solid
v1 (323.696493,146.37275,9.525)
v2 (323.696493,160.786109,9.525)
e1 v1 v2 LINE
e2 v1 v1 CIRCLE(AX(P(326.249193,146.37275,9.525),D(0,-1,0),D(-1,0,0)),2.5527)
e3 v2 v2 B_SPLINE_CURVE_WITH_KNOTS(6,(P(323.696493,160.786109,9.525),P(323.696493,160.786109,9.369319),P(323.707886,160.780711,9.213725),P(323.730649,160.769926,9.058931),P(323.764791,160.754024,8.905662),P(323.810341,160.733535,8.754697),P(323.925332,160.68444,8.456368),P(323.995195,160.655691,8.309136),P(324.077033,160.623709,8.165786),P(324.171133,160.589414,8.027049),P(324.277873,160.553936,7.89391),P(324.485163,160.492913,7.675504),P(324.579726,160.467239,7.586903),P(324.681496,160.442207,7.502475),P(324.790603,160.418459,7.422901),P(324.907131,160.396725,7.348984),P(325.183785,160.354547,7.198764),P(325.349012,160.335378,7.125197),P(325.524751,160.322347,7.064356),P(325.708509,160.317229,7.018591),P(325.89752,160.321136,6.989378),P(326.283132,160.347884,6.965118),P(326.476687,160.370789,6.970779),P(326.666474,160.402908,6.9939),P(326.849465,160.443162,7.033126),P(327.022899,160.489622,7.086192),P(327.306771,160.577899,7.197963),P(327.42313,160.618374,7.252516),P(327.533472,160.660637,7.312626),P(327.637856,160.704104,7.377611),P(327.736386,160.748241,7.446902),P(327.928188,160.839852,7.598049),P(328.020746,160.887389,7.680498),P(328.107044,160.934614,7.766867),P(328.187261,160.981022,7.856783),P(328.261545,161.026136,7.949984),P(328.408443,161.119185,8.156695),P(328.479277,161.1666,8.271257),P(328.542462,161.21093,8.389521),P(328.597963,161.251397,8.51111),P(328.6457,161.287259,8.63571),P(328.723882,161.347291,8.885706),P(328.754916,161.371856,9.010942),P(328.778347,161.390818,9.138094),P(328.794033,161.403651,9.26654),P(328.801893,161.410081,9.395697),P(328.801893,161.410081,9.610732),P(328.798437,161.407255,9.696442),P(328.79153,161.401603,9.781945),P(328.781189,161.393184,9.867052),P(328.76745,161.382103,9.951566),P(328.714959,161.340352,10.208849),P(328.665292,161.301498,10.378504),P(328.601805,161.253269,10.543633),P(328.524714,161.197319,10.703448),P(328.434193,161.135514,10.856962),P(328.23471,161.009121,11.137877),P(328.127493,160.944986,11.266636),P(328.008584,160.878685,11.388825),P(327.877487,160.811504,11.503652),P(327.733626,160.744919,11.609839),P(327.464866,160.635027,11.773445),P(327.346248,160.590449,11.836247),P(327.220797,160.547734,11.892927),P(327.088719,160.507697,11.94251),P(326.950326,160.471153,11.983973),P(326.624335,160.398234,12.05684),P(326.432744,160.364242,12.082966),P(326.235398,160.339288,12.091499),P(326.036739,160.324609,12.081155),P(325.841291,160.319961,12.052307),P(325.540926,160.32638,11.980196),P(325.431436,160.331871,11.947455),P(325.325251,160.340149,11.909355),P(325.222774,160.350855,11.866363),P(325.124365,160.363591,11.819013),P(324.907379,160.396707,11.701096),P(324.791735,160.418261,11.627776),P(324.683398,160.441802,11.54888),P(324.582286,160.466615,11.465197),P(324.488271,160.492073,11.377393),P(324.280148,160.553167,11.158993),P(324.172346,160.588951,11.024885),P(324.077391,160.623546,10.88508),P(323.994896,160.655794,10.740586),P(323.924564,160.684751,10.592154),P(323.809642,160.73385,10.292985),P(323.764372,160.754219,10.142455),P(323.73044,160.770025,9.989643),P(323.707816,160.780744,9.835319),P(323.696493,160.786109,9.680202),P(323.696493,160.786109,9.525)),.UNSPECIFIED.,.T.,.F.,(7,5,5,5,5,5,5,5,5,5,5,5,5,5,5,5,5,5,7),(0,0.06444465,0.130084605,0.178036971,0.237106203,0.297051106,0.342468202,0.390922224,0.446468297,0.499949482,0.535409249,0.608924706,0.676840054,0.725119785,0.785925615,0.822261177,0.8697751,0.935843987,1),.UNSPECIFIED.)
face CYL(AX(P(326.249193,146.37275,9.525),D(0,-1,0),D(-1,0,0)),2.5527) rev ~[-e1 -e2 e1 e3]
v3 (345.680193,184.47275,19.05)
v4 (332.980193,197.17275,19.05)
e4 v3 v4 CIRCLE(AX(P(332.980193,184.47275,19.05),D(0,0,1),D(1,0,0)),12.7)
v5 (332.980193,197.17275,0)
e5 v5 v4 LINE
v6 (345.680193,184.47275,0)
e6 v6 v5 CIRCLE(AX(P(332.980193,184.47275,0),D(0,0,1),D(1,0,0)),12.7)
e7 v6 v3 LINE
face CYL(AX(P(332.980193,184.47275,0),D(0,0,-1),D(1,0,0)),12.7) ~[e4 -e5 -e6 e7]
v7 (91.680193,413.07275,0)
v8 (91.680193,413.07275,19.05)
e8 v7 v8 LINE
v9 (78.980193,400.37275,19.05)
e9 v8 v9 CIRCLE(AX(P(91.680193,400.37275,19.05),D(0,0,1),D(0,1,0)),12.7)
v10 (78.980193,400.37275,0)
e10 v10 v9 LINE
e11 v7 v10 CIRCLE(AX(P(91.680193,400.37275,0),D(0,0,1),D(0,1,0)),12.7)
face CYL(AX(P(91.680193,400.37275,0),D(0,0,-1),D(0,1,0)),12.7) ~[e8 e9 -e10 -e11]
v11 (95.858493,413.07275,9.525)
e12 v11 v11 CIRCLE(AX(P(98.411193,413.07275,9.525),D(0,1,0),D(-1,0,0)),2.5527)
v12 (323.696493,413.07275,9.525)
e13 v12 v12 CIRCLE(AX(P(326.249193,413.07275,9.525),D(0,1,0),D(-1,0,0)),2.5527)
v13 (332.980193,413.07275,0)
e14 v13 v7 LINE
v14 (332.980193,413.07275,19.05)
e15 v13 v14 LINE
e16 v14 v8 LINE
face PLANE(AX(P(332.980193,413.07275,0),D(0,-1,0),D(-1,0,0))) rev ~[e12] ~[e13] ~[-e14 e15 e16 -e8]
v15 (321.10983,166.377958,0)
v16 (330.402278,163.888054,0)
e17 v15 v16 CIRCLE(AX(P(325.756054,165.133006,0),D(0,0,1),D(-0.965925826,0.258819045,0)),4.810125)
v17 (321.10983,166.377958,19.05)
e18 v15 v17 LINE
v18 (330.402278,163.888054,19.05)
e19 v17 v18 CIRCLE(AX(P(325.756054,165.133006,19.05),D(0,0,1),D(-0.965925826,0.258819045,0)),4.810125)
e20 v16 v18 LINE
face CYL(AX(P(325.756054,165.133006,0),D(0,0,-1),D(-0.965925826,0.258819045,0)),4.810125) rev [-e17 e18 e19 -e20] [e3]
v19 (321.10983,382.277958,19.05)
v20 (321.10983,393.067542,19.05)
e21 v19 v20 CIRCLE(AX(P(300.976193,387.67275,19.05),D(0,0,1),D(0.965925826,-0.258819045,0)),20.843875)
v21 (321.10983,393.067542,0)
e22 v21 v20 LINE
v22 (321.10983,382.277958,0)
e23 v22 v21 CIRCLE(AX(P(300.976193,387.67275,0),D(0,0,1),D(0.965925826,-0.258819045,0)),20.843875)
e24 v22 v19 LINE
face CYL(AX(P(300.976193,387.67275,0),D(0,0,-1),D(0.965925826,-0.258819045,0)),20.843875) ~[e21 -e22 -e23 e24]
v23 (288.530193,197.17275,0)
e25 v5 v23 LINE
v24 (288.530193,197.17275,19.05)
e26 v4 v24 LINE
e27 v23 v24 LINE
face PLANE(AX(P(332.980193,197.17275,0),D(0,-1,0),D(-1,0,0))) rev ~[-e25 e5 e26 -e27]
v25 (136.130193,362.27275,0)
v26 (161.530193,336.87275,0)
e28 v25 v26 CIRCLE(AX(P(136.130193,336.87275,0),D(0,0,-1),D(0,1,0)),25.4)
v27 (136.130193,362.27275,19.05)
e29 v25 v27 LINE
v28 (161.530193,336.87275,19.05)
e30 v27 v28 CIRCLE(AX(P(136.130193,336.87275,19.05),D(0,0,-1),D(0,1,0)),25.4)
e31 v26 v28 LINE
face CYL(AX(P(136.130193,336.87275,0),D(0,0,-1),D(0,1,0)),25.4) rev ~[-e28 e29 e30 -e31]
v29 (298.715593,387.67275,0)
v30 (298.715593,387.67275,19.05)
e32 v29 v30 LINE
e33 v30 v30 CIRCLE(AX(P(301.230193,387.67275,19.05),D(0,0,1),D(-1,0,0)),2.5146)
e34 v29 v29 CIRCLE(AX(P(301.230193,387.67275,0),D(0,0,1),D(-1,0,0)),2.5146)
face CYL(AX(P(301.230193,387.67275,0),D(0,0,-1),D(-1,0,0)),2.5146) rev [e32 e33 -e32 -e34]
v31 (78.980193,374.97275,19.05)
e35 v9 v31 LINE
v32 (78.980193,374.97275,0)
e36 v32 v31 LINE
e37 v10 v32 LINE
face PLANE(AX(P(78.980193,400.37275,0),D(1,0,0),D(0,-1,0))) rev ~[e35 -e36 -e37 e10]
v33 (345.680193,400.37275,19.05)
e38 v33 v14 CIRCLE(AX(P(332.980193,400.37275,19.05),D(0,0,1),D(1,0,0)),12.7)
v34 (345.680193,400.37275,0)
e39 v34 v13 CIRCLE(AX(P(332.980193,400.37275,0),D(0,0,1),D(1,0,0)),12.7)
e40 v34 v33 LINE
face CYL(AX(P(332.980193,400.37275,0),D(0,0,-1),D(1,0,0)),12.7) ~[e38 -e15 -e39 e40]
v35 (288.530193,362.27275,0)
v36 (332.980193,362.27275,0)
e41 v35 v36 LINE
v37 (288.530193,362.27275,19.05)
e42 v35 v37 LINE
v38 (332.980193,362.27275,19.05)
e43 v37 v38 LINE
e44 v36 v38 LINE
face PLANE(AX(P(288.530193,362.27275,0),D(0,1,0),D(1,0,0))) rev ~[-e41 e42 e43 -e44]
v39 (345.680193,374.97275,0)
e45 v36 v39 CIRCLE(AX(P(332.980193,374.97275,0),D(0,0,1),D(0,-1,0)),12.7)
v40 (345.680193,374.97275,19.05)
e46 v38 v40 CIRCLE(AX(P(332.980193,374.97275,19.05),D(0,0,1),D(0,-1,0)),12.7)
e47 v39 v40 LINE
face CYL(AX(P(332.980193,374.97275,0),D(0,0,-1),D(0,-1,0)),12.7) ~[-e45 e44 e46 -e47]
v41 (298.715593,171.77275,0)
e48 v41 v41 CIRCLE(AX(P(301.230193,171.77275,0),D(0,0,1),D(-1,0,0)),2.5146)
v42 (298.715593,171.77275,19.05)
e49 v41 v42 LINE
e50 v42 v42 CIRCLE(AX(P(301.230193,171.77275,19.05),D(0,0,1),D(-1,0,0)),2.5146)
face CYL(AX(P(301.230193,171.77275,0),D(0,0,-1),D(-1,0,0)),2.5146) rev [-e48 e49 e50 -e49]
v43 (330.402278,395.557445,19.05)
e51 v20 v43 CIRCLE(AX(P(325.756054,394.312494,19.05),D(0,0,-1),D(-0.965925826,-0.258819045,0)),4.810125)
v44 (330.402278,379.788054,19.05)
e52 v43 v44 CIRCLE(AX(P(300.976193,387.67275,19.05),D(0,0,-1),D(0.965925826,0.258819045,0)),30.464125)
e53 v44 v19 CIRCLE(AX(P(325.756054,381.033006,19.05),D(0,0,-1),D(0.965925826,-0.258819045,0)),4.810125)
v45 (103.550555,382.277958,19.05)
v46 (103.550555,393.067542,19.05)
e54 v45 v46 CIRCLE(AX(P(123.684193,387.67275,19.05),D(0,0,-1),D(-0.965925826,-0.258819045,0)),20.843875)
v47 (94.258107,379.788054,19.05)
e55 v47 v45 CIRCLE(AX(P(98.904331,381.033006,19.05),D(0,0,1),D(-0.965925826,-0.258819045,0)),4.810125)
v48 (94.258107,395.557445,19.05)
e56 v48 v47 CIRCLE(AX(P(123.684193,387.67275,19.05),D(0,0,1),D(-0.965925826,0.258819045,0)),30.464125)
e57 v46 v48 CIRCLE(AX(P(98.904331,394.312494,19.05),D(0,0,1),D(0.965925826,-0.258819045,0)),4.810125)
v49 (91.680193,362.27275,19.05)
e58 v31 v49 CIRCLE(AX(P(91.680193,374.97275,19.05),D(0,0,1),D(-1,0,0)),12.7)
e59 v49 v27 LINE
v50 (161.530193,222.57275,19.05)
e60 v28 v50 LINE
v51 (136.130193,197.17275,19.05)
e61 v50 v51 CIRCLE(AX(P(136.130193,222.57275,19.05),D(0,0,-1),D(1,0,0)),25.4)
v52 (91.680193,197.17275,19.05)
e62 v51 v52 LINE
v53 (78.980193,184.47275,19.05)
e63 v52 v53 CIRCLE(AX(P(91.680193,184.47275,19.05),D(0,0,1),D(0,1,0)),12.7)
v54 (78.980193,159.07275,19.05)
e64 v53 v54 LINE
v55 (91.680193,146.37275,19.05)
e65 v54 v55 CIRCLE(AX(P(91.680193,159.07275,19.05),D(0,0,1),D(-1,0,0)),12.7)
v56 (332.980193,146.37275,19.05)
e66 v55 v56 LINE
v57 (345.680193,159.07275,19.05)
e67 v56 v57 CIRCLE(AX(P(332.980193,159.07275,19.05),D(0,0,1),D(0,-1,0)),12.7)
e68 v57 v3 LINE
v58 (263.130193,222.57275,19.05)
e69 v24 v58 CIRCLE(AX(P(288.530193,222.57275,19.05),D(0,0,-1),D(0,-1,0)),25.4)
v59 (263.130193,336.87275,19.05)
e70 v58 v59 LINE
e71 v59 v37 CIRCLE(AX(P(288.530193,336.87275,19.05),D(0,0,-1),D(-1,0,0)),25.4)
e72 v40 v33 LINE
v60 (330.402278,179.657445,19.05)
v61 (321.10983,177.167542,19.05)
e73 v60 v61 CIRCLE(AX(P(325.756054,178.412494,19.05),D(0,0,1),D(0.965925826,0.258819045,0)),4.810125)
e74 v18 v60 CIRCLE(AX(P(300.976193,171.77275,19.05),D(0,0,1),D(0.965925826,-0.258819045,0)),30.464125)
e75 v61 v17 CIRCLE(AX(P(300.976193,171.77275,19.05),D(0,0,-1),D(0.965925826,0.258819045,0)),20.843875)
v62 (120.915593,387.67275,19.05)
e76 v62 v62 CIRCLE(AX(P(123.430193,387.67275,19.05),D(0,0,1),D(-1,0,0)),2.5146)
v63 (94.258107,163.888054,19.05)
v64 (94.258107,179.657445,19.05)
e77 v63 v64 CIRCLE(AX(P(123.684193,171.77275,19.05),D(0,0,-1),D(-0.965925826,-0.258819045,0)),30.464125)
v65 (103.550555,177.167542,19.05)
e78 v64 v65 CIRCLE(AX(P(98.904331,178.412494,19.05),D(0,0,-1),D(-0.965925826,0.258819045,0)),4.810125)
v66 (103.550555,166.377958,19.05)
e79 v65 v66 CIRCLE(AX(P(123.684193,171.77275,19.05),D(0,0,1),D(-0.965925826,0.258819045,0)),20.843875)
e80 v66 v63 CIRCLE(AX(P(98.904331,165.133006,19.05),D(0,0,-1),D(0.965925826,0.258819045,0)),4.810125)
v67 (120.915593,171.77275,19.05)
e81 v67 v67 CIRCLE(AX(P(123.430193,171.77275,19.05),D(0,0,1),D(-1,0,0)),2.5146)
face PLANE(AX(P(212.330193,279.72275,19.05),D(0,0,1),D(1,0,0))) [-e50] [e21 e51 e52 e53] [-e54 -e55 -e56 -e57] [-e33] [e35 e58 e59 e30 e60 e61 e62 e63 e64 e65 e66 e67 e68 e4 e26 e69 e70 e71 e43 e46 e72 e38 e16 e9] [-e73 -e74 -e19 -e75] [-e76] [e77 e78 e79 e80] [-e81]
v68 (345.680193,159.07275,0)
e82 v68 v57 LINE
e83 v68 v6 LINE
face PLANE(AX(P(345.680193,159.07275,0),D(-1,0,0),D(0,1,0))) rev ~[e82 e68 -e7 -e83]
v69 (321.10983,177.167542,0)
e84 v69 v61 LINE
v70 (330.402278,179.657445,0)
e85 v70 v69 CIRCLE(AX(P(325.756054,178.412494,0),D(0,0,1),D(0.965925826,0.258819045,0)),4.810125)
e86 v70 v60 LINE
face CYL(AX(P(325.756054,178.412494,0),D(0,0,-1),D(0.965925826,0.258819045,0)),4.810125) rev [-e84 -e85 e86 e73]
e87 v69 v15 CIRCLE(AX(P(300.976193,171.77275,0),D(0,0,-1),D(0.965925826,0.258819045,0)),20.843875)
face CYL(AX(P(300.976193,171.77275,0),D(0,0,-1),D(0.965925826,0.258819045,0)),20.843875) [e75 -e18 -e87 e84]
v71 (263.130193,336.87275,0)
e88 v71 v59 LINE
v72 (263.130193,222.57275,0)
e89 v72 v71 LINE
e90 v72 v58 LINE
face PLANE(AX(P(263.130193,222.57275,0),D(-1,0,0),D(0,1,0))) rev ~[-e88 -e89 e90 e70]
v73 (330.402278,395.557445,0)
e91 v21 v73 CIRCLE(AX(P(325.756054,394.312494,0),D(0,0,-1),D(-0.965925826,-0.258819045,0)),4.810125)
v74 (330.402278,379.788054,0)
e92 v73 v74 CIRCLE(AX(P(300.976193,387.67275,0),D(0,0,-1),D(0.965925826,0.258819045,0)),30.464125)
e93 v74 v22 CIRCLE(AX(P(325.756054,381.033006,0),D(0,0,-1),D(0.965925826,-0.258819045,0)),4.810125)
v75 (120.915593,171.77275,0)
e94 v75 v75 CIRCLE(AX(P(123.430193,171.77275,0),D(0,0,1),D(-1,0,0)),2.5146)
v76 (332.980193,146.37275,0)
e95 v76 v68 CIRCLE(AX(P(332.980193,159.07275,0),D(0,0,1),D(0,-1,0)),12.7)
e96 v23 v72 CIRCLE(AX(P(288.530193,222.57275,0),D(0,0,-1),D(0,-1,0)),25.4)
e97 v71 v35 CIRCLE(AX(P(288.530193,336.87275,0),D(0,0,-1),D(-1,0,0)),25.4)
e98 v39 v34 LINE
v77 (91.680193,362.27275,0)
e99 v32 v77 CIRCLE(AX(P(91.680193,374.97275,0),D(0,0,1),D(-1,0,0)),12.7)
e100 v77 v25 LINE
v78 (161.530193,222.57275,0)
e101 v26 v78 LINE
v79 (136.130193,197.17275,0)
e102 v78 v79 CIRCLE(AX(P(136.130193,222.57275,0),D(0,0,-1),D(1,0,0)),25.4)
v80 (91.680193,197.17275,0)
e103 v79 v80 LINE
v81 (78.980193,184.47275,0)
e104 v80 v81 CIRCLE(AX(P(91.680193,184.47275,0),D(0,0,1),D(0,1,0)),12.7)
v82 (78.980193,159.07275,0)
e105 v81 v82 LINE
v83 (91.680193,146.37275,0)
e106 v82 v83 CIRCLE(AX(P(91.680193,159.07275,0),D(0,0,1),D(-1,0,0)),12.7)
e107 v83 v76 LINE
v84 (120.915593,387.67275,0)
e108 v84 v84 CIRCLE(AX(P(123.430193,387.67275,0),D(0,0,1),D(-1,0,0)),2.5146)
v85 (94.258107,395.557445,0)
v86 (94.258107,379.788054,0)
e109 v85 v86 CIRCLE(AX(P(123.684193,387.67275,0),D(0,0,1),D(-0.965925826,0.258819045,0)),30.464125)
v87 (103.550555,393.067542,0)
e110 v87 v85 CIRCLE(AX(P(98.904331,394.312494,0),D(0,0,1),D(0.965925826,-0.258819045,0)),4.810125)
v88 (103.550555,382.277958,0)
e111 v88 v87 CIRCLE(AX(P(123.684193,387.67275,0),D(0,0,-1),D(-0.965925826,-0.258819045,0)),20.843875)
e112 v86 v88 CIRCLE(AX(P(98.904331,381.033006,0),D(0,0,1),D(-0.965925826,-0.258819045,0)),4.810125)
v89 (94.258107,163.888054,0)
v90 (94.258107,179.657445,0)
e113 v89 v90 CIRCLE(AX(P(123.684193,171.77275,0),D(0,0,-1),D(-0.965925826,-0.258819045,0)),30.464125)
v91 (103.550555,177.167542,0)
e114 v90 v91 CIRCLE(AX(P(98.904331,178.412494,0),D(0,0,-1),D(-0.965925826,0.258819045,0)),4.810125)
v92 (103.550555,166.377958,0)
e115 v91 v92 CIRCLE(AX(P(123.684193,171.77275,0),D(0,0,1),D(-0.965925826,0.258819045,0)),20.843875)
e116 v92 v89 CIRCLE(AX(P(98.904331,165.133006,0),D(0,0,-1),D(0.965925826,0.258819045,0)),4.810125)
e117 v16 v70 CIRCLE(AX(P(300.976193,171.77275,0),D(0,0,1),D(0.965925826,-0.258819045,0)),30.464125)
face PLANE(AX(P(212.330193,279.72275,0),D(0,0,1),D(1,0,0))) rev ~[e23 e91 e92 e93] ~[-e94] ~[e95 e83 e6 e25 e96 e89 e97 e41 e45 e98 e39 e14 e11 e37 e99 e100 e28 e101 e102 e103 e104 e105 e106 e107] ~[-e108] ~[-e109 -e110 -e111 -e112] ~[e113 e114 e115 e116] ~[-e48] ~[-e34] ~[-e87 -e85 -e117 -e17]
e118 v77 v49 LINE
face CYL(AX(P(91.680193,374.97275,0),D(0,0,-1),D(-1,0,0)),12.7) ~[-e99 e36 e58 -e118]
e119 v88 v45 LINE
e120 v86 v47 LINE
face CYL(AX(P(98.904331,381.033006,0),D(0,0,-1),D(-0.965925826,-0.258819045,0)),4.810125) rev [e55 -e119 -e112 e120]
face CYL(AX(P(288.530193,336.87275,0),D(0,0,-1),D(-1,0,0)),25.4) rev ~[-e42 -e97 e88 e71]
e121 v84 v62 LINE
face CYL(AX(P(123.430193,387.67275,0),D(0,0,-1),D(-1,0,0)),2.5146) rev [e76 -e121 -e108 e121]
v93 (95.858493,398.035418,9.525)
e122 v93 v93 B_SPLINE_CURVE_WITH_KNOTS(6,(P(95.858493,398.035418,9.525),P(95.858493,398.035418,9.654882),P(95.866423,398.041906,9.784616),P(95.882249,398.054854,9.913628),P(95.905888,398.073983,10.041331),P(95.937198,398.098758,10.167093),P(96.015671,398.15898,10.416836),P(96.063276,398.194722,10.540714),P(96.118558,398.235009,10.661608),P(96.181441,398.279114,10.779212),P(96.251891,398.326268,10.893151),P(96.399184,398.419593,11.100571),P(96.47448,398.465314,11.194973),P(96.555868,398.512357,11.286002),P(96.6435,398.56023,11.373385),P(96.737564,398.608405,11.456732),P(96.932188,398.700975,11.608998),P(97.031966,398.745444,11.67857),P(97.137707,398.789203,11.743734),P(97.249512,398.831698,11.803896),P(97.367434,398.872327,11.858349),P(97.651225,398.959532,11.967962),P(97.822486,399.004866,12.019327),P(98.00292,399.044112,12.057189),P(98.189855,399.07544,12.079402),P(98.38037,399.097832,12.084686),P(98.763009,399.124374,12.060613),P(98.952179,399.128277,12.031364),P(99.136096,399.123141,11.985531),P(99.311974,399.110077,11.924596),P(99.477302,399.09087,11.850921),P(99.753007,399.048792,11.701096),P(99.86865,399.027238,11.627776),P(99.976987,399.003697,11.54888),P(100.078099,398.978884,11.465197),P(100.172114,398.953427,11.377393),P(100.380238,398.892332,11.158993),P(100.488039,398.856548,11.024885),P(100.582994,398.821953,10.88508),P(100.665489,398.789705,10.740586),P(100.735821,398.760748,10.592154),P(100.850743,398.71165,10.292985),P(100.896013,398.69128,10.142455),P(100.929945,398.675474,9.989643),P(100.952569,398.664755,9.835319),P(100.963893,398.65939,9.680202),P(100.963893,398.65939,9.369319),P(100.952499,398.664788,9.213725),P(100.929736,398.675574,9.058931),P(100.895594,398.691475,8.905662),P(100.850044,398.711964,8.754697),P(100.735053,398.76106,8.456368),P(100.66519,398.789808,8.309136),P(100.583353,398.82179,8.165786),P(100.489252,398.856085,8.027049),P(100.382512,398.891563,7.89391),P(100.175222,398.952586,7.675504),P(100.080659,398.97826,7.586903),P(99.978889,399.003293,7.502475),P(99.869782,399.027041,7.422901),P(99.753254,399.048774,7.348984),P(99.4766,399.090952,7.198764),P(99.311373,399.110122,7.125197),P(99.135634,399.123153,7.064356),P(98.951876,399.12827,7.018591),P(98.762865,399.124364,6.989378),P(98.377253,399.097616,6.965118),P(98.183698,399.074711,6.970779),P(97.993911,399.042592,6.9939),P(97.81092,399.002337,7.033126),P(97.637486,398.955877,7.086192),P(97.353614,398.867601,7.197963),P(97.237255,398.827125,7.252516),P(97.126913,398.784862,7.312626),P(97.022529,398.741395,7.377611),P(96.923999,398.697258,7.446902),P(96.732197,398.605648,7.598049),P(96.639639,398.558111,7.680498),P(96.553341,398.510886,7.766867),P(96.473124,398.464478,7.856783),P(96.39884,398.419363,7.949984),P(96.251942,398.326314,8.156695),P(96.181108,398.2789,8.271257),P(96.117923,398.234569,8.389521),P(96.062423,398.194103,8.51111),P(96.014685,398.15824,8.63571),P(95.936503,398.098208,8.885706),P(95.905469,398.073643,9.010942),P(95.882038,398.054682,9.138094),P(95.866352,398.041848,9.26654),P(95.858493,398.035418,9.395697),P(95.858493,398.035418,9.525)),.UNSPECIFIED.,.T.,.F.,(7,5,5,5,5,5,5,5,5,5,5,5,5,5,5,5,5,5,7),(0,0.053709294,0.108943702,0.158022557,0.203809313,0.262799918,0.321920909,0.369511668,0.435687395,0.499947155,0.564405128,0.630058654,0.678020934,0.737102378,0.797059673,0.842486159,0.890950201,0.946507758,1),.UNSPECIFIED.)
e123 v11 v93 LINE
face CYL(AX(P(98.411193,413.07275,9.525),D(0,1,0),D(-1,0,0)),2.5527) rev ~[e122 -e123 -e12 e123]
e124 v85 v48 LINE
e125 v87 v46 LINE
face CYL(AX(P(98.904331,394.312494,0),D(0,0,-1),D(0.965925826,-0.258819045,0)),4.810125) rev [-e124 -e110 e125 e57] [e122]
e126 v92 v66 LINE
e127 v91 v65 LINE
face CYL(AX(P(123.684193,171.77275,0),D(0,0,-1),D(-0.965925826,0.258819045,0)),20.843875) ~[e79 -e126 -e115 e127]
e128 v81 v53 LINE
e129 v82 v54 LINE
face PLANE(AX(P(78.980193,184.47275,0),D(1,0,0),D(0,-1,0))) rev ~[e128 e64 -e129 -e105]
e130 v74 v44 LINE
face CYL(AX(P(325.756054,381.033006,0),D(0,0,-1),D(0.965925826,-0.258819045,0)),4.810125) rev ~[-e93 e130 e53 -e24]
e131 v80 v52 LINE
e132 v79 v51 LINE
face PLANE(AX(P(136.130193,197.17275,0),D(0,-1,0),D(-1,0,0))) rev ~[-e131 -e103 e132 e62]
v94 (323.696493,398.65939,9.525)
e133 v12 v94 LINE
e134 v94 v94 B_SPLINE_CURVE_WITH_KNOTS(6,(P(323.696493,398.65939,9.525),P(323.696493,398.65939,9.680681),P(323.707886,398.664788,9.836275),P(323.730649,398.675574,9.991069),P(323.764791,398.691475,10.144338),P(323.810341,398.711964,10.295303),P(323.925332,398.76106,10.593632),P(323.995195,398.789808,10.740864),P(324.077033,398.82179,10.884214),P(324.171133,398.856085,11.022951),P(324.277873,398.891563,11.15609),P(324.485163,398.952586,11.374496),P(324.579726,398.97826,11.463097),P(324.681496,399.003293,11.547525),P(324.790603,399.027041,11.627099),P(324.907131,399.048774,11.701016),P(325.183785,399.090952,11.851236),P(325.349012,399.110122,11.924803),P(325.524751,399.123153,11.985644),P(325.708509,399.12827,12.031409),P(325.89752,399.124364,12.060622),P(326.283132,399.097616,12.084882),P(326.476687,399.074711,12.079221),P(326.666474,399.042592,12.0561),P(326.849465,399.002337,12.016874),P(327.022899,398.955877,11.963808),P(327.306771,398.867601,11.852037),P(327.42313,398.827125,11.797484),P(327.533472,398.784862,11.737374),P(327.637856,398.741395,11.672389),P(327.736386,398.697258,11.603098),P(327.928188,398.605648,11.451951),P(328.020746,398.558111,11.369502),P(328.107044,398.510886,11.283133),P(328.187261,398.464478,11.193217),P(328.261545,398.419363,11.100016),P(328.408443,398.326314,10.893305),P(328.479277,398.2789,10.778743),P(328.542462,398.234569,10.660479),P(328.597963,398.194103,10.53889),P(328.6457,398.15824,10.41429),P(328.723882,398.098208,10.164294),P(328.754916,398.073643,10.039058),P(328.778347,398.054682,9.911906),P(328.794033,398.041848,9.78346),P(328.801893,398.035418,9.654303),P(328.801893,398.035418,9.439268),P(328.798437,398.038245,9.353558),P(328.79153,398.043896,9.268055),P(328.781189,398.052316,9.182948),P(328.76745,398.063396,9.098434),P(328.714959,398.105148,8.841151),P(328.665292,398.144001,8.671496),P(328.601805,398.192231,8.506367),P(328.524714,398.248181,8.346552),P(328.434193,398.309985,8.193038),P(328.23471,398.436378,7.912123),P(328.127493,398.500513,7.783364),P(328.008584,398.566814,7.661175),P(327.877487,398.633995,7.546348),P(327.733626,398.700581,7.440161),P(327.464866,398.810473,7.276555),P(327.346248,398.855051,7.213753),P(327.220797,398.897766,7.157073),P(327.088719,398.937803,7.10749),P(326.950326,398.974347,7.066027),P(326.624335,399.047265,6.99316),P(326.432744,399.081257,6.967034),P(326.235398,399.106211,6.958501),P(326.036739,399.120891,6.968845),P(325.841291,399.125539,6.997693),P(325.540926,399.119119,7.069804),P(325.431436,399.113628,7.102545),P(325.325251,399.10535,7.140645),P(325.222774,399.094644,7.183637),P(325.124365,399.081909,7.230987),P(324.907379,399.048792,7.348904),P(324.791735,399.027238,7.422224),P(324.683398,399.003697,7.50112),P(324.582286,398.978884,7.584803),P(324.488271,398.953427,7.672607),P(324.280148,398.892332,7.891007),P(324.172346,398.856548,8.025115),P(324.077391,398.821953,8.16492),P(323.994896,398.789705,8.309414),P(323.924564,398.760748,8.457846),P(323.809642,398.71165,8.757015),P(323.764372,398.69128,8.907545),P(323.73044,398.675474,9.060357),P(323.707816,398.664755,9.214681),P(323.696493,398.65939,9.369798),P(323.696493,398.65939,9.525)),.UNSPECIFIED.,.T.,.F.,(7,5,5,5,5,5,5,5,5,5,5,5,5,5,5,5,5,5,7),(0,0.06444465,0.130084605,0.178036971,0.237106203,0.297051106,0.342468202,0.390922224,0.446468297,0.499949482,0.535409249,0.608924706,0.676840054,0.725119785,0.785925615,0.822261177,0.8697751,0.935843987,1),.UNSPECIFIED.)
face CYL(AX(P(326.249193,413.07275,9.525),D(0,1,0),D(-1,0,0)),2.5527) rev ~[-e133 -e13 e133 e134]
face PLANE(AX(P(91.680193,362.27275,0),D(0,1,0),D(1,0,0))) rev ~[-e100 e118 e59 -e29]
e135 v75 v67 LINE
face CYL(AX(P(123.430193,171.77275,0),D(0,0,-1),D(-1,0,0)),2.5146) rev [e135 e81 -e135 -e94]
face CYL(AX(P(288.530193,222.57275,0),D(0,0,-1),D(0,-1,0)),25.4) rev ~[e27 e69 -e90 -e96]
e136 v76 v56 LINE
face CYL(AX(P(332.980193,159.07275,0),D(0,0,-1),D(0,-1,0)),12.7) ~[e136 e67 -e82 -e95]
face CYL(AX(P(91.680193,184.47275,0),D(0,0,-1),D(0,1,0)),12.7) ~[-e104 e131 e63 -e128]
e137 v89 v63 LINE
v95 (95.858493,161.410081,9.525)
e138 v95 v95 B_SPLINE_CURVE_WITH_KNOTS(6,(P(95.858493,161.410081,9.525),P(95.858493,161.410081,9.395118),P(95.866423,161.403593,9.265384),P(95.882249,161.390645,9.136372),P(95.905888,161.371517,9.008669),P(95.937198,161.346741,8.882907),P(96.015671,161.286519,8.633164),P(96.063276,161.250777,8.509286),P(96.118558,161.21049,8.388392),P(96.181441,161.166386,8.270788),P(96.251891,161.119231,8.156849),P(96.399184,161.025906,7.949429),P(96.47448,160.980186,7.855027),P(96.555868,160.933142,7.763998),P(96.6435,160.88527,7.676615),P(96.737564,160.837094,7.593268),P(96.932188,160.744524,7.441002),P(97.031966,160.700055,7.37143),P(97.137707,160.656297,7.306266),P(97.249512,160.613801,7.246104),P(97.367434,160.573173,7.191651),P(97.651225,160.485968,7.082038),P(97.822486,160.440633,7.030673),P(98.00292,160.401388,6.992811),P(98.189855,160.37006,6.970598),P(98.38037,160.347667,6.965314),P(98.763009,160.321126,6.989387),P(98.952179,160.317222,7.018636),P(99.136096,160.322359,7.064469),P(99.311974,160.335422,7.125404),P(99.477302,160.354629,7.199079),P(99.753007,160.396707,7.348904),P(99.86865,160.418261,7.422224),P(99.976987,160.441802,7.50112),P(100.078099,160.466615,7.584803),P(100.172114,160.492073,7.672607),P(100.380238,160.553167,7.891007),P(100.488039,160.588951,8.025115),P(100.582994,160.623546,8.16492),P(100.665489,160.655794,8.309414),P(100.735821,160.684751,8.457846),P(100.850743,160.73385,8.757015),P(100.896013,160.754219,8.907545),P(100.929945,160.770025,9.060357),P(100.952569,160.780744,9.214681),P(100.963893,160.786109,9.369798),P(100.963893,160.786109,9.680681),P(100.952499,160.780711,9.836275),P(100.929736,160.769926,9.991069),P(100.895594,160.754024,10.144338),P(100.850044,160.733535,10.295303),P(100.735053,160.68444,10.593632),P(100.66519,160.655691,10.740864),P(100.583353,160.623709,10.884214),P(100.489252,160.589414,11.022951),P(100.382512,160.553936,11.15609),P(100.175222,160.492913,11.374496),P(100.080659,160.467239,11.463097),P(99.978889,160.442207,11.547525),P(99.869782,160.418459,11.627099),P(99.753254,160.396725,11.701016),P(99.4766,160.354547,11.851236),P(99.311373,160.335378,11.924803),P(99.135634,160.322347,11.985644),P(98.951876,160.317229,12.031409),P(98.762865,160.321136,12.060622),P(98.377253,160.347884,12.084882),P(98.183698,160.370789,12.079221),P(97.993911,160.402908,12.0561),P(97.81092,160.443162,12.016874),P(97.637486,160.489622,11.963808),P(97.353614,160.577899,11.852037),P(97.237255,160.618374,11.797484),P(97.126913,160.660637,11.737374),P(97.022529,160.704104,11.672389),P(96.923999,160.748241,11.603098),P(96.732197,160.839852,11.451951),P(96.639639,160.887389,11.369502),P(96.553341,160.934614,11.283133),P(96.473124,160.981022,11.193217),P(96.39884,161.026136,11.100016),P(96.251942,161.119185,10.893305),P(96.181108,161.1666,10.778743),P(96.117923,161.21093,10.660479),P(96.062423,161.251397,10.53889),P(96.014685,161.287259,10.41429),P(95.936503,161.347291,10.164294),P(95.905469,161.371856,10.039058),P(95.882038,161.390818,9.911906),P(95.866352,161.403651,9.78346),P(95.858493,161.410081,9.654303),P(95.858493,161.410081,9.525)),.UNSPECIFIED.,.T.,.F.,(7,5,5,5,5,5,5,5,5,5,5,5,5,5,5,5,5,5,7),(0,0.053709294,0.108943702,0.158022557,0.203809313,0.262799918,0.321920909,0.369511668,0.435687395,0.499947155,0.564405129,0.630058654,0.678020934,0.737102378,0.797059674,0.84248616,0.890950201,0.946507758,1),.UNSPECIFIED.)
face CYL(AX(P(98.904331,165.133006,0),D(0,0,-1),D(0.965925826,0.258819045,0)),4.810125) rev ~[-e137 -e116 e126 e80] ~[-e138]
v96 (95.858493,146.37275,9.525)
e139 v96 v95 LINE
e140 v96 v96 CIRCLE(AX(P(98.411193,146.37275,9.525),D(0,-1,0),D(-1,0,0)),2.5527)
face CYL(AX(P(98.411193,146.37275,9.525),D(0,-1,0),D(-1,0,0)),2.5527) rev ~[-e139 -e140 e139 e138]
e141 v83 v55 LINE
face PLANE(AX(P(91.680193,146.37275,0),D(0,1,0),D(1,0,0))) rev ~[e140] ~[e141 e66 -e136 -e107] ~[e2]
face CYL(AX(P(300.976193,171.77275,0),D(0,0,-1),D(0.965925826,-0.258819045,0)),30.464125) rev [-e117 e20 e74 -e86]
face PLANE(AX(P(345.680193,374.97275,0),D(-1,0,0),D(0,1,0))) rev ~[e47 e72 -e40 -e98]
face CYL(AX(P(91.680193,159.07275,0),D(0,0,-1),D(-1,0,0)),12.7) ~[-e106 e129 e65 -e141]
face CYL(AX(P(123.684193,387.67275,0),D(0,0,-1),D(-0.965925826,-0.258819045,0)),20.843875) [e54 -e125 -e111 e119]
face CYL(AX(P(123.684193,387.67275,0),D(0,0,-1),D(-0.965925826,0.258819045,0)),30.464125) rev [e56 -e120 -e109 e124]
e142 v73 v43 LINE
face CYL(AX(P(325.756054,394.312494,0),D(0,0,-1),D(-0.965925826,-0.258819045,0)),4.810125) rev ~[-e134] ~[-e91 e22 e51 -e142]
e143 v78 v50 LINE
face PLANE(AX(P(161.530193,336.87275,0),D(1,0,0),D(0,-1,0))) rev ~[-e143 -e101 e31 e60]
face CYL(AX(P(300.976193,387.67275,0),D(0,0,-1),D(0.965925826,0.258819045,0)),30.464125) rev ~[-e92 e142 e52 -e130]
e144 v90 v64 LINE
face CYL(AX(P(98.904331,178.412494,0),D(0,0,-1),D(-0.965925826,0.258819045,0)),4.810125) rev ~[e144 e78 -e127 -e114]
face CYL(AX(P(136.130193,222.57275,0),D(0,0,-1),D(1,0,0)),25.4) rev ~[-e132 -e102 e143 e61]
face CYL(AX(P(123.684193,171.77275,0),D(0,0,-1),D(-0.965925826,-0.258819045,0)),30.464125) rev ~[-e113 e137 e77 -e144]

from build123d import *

# Parameters (mm, degrees)
MODEL_R             = 2.5146
BOSS_EXTRUDE1_DEPTH = 19.05
CUT_EXTRUDE1_REACH  = 439.02
SKETCH2_R           = 2.5527
CUT_EXTRUDE2_REACH  = 439.02
SKETCH3_R           = 2.5527


with BuildPart() as part:
    # Model → Boss-Extrude1 (new body)
    with BuildSketch(Plane.XY):
        with BuildLine():
            Line((332.980192528, 413.072749717), (91.680192525, 413.072749717))
            ThreePointArc((91.680192525, 413.072749717), (82.699936404, 409.353005838), (78.980192525, 400.372749717))
            Line((78.980192525, 400.372749717), (78.980192525, 374.972749717))
            ThreePointArc((78.980192525, 374.972749717), (82.699936404, 365.992493596), (91.680192525, 362.272749717))
            Line((91.680192525, 362.272749717), (136.130192525, 362.272749717))
            ThreePointArc((136.130192525, 362.272749717), (154.090704768, 354.833261959), (161.530192525, 336.872749717))
            Line((161.530192525, 336.872749717), (161.530192525, 222.572749717))
            ThreePointArc((161.530192525, 222.572749717), (154.090704768, 204.612237475), (136.130192525, 197.172749717))
            Line((136.130192525, 197.172749717), (91.680192525, 197.172749717))
            ThreePointArc((91.680192525, 197.172749717), (82.699936404, 193.453005838), (78.980192525, 184.472749717))
            Line((78.980192525, 184.472749717), (78.980192525, 159.072749717))
            ThreePointArc((78.980192525, 159.072749717), (82.699936404, 150.092493596), (91.680192525, 146.372749717))
            Line((91.680192525, 146.372749717), (332.980192528, 146.372749717))
            ThreePointArc((332.980192528, 146.372749717), (341.960448649, 150.092493596), (345.680192528, 159.072749717))
            Line((345.680192528, 159.072749717), (345.680192528, 184.472749717))
            ThreePointArc((345.680192528, 184.472749717), (341.960448648, 193.453005839), (332.980192525, 197.172749717))
            Line((332.980192525, 197.172749717), (288.530192525, 197.172749717))
            ThreePointArc((288.530192525, 197.172749717), (270.569680283, 204.612237475), (263.130192525, 222.572749717))
            Line((263.130192525, 222.572749717), (263.130192525, 336.872749717))
            ThreePointArc((263.130192525, 336.872749717), (270.569680284, 354.83326196), (288.530192528, 362.272749717))
            Line((288.530192528, 362.272749717), (332.980192528, 362.272749717))
            ThreePointArc((332.980192528, 362.272749717), (341.960448649, 365.992493596), (345.680192528, 374.972749717))
            Line((345.680192528, 374.972749717), (345.680192528, 400.372749717))
            ThreePointArc((345.680192528, 400.372749717), (341.960448649, 409.353005838), (332.980192528, 413.072749717))
        make_face()
        with Locations(Location((123.430192525, 387.672749717, 0), (0, 0, 180))):
            Circle(MODEL_R, mode=Mode.SUBTRACT)
        with Locations(Location((301.230192525, 387.672749717, 0), (0, 0, 180))):
            Circle(MODEL_R, mode=Mode.SUBTRACT)
        with Locations(Location((123.430192525, 171.772749717, 0), (0, 0, 180))):
            Circle(MODEL_R, mode=Mode.SUBTRACT)
        with Locations(Location((301.230192525, 171.772749717, 0), (0, 0, 180))):
            Circle(MODEL_R, mode=Mode.SUBTRACT)
        with BuildLine():
            ThreePointArc((330.402277638, 163.888053974), (331.440317525, 171.772749717), (330.402277638, 179.657445459))
            ThreePointArc((330.402277638, 179.657445459), (324.511101714, 183.058717465), (321.109829708, 177.167541541))
            ThreePointArc((321.109829708, 177.167541541), (321.820067525, 171.772749717), (321.109829708, 166.377957893))
            ThreePointArc((321.109829708, 166.377957893), (324.511101714, 160.486781969), (330.402277638, 163.888053974))
        make_face(mode=Mode.SUBTRACT)
        with BuildLine():
            ThreePointArc((103.550555343, 177.167541541), (102.840317525, 171.772749717), (103.550555343, 166.377957893))
            ThreePointArc((103.550555343, 166.377957893), (100.149283337, 160.486781969), (94.258107413, 163.888053974))
            ThreePointArc((94.258107413, 163.888053974), (93.220067525, 171.772749717), (94.258107413, 179.657445459))
            ThreePointArc((94.258107413, 179.657445459), (100.149283337, 183.058717465), (103.550555343, 177.167541541))
        make_face(mode=Mode.SUBTRACT)
        with BuildLine():
            ThreePointArc((321.109829708, 382.277957893), (321.820067525, 387.672749717), (321.109829708, 393.067541541))
            ThreePointArc((321.109829708, 393.067541541), (324.511101714, 398.958717465), (330.402277638, 395.557445459))
            ThreePointArc((330.402277638, 395.557445459), (331.440317525, 387.672749717), (330.402277638, 379.788053974))
            ThreePointArc((330.402277638, 379.788053974), (324.511101714, 376.386781969), (321.109829708, 382.277957893))
        make_face(mode=Mode.SUBTRACT)
        with BuildLine():
            ThreePointArc((94.258107413, 395.557445459), (93.220067525, 387.672749717), (94.258107413, 379.788053974))
            ThreePointArc((94.258107413, 379.788053974), (100.149283337, 376.386781969), (103.550555343, 382.277957893))
            ThreePointArc((103.550555343, 382.277957893), (102.840317525, 387.672749717), (103.550555343, 393.067541541))
            ThreePointArc((103.550555343, 393.067541541), (100.149283337, 398.958717465), (94.258107413, 395.557445459))
        make_face(mode=Mode.SUBTRACT)
    extrude(amount=BOSS_EXTRUDE1_DEPTH)

    # Sketch2 → Cut-Extrude1 (cut, up to next)
    with BuildSketch(Plane(origin=(0, 413.072749717, 0), x_dir=(1, 0, 0), z_dir=(0, 1, 0)), mode=Mode.PRIVATE) as cut_extrude1_sk1:
        with Locations(Location((98.411192525, -9.525, 0), (0, 0, 180))):
            Circle(SKETCH2_R)
    cut_extrude1_tool1 = extrude(cut_extrude1_sk1.sketch, amount=-CUT_EXTRUDE1_REACH, mode=Mode.PRIVATE) & part.part
    # Sketch2 → Cut-Extrude1 (cut, up to next)
    with BuildSketch(Plane(origin=(0, 413.072749717, 0), x_dir=(1, 0, 0), z_dir=(0, 1, 0)), mode=Mode.PRIVATE) as cut_extrude1_sk2:
        with Locations(Location((326.249192528, -9.525, 0), (0, 0, 180))):
            Circle(SKETCH2_R)
    cut_extrude1_tool2 = extrude(cut_extrude1_sk2.sketch, amount=-CUT_EXTRUDE1_REACH, mode=Mode.PRIVATE) & part.part
    add(cut_extrude1_tool1.solids().sort_by_distance((98.411193, 413.07275, 9.525))[0], mode=Mode.SUBTRACT)
    add(cut_extrude1_tool2.solids().sort_by_distance((326.249193, 413.07275, 9.525))[0], mode=Mode.SUBTRACT)

    # Sketch3 → Cut-Extrude2 (cut, up to next)
    with BuildSketch(Plane.XZ.offset(-146.372749717), mode=Mode.PRIVATE) as cut_extrude2_sk1:
        with Locations(Location((98.411192525, 9.525, 0), (0, 0, 180))):
            Circle(SKETCH3_R)
    cut_extrude2_tool1 = extrude(cut_extrude2_sk1.sketch, amount=-CUT_EXTRUDE2_REACH, mode=Mode.PRIVATE) & part.part
    # Sketch3 → Cut-Extrude2 (cut, up to next)
    with BuildSketch(Plane.XZ.offset(-146.372749717), mode=Mode.PRIVATE) as cut_extrude2_sk2:
        with Locations(Location((326.249192528, 9.525, 0), (0, 0, 180))):
            Circle(SKETCH3_R)
    cut_extrude2_tool2 = extrude(cut_extrude2_sk2.sketch, amount=-CUT_EXTRUDE2_REACH, mode=Mode.PRIVATE) & part.part
    add(cut_extrude2_tool1.solids().sort_by_distance((98.411193, 146.37275, 9.525))[0], mode=Mode.SUBTRACT)
    add(cut_extrude2_tool2.solids().sort_by_distance((326.249193, 146.37275, 9.525))[0], mode=Mode.SUBTRACT)


solid = part.part
